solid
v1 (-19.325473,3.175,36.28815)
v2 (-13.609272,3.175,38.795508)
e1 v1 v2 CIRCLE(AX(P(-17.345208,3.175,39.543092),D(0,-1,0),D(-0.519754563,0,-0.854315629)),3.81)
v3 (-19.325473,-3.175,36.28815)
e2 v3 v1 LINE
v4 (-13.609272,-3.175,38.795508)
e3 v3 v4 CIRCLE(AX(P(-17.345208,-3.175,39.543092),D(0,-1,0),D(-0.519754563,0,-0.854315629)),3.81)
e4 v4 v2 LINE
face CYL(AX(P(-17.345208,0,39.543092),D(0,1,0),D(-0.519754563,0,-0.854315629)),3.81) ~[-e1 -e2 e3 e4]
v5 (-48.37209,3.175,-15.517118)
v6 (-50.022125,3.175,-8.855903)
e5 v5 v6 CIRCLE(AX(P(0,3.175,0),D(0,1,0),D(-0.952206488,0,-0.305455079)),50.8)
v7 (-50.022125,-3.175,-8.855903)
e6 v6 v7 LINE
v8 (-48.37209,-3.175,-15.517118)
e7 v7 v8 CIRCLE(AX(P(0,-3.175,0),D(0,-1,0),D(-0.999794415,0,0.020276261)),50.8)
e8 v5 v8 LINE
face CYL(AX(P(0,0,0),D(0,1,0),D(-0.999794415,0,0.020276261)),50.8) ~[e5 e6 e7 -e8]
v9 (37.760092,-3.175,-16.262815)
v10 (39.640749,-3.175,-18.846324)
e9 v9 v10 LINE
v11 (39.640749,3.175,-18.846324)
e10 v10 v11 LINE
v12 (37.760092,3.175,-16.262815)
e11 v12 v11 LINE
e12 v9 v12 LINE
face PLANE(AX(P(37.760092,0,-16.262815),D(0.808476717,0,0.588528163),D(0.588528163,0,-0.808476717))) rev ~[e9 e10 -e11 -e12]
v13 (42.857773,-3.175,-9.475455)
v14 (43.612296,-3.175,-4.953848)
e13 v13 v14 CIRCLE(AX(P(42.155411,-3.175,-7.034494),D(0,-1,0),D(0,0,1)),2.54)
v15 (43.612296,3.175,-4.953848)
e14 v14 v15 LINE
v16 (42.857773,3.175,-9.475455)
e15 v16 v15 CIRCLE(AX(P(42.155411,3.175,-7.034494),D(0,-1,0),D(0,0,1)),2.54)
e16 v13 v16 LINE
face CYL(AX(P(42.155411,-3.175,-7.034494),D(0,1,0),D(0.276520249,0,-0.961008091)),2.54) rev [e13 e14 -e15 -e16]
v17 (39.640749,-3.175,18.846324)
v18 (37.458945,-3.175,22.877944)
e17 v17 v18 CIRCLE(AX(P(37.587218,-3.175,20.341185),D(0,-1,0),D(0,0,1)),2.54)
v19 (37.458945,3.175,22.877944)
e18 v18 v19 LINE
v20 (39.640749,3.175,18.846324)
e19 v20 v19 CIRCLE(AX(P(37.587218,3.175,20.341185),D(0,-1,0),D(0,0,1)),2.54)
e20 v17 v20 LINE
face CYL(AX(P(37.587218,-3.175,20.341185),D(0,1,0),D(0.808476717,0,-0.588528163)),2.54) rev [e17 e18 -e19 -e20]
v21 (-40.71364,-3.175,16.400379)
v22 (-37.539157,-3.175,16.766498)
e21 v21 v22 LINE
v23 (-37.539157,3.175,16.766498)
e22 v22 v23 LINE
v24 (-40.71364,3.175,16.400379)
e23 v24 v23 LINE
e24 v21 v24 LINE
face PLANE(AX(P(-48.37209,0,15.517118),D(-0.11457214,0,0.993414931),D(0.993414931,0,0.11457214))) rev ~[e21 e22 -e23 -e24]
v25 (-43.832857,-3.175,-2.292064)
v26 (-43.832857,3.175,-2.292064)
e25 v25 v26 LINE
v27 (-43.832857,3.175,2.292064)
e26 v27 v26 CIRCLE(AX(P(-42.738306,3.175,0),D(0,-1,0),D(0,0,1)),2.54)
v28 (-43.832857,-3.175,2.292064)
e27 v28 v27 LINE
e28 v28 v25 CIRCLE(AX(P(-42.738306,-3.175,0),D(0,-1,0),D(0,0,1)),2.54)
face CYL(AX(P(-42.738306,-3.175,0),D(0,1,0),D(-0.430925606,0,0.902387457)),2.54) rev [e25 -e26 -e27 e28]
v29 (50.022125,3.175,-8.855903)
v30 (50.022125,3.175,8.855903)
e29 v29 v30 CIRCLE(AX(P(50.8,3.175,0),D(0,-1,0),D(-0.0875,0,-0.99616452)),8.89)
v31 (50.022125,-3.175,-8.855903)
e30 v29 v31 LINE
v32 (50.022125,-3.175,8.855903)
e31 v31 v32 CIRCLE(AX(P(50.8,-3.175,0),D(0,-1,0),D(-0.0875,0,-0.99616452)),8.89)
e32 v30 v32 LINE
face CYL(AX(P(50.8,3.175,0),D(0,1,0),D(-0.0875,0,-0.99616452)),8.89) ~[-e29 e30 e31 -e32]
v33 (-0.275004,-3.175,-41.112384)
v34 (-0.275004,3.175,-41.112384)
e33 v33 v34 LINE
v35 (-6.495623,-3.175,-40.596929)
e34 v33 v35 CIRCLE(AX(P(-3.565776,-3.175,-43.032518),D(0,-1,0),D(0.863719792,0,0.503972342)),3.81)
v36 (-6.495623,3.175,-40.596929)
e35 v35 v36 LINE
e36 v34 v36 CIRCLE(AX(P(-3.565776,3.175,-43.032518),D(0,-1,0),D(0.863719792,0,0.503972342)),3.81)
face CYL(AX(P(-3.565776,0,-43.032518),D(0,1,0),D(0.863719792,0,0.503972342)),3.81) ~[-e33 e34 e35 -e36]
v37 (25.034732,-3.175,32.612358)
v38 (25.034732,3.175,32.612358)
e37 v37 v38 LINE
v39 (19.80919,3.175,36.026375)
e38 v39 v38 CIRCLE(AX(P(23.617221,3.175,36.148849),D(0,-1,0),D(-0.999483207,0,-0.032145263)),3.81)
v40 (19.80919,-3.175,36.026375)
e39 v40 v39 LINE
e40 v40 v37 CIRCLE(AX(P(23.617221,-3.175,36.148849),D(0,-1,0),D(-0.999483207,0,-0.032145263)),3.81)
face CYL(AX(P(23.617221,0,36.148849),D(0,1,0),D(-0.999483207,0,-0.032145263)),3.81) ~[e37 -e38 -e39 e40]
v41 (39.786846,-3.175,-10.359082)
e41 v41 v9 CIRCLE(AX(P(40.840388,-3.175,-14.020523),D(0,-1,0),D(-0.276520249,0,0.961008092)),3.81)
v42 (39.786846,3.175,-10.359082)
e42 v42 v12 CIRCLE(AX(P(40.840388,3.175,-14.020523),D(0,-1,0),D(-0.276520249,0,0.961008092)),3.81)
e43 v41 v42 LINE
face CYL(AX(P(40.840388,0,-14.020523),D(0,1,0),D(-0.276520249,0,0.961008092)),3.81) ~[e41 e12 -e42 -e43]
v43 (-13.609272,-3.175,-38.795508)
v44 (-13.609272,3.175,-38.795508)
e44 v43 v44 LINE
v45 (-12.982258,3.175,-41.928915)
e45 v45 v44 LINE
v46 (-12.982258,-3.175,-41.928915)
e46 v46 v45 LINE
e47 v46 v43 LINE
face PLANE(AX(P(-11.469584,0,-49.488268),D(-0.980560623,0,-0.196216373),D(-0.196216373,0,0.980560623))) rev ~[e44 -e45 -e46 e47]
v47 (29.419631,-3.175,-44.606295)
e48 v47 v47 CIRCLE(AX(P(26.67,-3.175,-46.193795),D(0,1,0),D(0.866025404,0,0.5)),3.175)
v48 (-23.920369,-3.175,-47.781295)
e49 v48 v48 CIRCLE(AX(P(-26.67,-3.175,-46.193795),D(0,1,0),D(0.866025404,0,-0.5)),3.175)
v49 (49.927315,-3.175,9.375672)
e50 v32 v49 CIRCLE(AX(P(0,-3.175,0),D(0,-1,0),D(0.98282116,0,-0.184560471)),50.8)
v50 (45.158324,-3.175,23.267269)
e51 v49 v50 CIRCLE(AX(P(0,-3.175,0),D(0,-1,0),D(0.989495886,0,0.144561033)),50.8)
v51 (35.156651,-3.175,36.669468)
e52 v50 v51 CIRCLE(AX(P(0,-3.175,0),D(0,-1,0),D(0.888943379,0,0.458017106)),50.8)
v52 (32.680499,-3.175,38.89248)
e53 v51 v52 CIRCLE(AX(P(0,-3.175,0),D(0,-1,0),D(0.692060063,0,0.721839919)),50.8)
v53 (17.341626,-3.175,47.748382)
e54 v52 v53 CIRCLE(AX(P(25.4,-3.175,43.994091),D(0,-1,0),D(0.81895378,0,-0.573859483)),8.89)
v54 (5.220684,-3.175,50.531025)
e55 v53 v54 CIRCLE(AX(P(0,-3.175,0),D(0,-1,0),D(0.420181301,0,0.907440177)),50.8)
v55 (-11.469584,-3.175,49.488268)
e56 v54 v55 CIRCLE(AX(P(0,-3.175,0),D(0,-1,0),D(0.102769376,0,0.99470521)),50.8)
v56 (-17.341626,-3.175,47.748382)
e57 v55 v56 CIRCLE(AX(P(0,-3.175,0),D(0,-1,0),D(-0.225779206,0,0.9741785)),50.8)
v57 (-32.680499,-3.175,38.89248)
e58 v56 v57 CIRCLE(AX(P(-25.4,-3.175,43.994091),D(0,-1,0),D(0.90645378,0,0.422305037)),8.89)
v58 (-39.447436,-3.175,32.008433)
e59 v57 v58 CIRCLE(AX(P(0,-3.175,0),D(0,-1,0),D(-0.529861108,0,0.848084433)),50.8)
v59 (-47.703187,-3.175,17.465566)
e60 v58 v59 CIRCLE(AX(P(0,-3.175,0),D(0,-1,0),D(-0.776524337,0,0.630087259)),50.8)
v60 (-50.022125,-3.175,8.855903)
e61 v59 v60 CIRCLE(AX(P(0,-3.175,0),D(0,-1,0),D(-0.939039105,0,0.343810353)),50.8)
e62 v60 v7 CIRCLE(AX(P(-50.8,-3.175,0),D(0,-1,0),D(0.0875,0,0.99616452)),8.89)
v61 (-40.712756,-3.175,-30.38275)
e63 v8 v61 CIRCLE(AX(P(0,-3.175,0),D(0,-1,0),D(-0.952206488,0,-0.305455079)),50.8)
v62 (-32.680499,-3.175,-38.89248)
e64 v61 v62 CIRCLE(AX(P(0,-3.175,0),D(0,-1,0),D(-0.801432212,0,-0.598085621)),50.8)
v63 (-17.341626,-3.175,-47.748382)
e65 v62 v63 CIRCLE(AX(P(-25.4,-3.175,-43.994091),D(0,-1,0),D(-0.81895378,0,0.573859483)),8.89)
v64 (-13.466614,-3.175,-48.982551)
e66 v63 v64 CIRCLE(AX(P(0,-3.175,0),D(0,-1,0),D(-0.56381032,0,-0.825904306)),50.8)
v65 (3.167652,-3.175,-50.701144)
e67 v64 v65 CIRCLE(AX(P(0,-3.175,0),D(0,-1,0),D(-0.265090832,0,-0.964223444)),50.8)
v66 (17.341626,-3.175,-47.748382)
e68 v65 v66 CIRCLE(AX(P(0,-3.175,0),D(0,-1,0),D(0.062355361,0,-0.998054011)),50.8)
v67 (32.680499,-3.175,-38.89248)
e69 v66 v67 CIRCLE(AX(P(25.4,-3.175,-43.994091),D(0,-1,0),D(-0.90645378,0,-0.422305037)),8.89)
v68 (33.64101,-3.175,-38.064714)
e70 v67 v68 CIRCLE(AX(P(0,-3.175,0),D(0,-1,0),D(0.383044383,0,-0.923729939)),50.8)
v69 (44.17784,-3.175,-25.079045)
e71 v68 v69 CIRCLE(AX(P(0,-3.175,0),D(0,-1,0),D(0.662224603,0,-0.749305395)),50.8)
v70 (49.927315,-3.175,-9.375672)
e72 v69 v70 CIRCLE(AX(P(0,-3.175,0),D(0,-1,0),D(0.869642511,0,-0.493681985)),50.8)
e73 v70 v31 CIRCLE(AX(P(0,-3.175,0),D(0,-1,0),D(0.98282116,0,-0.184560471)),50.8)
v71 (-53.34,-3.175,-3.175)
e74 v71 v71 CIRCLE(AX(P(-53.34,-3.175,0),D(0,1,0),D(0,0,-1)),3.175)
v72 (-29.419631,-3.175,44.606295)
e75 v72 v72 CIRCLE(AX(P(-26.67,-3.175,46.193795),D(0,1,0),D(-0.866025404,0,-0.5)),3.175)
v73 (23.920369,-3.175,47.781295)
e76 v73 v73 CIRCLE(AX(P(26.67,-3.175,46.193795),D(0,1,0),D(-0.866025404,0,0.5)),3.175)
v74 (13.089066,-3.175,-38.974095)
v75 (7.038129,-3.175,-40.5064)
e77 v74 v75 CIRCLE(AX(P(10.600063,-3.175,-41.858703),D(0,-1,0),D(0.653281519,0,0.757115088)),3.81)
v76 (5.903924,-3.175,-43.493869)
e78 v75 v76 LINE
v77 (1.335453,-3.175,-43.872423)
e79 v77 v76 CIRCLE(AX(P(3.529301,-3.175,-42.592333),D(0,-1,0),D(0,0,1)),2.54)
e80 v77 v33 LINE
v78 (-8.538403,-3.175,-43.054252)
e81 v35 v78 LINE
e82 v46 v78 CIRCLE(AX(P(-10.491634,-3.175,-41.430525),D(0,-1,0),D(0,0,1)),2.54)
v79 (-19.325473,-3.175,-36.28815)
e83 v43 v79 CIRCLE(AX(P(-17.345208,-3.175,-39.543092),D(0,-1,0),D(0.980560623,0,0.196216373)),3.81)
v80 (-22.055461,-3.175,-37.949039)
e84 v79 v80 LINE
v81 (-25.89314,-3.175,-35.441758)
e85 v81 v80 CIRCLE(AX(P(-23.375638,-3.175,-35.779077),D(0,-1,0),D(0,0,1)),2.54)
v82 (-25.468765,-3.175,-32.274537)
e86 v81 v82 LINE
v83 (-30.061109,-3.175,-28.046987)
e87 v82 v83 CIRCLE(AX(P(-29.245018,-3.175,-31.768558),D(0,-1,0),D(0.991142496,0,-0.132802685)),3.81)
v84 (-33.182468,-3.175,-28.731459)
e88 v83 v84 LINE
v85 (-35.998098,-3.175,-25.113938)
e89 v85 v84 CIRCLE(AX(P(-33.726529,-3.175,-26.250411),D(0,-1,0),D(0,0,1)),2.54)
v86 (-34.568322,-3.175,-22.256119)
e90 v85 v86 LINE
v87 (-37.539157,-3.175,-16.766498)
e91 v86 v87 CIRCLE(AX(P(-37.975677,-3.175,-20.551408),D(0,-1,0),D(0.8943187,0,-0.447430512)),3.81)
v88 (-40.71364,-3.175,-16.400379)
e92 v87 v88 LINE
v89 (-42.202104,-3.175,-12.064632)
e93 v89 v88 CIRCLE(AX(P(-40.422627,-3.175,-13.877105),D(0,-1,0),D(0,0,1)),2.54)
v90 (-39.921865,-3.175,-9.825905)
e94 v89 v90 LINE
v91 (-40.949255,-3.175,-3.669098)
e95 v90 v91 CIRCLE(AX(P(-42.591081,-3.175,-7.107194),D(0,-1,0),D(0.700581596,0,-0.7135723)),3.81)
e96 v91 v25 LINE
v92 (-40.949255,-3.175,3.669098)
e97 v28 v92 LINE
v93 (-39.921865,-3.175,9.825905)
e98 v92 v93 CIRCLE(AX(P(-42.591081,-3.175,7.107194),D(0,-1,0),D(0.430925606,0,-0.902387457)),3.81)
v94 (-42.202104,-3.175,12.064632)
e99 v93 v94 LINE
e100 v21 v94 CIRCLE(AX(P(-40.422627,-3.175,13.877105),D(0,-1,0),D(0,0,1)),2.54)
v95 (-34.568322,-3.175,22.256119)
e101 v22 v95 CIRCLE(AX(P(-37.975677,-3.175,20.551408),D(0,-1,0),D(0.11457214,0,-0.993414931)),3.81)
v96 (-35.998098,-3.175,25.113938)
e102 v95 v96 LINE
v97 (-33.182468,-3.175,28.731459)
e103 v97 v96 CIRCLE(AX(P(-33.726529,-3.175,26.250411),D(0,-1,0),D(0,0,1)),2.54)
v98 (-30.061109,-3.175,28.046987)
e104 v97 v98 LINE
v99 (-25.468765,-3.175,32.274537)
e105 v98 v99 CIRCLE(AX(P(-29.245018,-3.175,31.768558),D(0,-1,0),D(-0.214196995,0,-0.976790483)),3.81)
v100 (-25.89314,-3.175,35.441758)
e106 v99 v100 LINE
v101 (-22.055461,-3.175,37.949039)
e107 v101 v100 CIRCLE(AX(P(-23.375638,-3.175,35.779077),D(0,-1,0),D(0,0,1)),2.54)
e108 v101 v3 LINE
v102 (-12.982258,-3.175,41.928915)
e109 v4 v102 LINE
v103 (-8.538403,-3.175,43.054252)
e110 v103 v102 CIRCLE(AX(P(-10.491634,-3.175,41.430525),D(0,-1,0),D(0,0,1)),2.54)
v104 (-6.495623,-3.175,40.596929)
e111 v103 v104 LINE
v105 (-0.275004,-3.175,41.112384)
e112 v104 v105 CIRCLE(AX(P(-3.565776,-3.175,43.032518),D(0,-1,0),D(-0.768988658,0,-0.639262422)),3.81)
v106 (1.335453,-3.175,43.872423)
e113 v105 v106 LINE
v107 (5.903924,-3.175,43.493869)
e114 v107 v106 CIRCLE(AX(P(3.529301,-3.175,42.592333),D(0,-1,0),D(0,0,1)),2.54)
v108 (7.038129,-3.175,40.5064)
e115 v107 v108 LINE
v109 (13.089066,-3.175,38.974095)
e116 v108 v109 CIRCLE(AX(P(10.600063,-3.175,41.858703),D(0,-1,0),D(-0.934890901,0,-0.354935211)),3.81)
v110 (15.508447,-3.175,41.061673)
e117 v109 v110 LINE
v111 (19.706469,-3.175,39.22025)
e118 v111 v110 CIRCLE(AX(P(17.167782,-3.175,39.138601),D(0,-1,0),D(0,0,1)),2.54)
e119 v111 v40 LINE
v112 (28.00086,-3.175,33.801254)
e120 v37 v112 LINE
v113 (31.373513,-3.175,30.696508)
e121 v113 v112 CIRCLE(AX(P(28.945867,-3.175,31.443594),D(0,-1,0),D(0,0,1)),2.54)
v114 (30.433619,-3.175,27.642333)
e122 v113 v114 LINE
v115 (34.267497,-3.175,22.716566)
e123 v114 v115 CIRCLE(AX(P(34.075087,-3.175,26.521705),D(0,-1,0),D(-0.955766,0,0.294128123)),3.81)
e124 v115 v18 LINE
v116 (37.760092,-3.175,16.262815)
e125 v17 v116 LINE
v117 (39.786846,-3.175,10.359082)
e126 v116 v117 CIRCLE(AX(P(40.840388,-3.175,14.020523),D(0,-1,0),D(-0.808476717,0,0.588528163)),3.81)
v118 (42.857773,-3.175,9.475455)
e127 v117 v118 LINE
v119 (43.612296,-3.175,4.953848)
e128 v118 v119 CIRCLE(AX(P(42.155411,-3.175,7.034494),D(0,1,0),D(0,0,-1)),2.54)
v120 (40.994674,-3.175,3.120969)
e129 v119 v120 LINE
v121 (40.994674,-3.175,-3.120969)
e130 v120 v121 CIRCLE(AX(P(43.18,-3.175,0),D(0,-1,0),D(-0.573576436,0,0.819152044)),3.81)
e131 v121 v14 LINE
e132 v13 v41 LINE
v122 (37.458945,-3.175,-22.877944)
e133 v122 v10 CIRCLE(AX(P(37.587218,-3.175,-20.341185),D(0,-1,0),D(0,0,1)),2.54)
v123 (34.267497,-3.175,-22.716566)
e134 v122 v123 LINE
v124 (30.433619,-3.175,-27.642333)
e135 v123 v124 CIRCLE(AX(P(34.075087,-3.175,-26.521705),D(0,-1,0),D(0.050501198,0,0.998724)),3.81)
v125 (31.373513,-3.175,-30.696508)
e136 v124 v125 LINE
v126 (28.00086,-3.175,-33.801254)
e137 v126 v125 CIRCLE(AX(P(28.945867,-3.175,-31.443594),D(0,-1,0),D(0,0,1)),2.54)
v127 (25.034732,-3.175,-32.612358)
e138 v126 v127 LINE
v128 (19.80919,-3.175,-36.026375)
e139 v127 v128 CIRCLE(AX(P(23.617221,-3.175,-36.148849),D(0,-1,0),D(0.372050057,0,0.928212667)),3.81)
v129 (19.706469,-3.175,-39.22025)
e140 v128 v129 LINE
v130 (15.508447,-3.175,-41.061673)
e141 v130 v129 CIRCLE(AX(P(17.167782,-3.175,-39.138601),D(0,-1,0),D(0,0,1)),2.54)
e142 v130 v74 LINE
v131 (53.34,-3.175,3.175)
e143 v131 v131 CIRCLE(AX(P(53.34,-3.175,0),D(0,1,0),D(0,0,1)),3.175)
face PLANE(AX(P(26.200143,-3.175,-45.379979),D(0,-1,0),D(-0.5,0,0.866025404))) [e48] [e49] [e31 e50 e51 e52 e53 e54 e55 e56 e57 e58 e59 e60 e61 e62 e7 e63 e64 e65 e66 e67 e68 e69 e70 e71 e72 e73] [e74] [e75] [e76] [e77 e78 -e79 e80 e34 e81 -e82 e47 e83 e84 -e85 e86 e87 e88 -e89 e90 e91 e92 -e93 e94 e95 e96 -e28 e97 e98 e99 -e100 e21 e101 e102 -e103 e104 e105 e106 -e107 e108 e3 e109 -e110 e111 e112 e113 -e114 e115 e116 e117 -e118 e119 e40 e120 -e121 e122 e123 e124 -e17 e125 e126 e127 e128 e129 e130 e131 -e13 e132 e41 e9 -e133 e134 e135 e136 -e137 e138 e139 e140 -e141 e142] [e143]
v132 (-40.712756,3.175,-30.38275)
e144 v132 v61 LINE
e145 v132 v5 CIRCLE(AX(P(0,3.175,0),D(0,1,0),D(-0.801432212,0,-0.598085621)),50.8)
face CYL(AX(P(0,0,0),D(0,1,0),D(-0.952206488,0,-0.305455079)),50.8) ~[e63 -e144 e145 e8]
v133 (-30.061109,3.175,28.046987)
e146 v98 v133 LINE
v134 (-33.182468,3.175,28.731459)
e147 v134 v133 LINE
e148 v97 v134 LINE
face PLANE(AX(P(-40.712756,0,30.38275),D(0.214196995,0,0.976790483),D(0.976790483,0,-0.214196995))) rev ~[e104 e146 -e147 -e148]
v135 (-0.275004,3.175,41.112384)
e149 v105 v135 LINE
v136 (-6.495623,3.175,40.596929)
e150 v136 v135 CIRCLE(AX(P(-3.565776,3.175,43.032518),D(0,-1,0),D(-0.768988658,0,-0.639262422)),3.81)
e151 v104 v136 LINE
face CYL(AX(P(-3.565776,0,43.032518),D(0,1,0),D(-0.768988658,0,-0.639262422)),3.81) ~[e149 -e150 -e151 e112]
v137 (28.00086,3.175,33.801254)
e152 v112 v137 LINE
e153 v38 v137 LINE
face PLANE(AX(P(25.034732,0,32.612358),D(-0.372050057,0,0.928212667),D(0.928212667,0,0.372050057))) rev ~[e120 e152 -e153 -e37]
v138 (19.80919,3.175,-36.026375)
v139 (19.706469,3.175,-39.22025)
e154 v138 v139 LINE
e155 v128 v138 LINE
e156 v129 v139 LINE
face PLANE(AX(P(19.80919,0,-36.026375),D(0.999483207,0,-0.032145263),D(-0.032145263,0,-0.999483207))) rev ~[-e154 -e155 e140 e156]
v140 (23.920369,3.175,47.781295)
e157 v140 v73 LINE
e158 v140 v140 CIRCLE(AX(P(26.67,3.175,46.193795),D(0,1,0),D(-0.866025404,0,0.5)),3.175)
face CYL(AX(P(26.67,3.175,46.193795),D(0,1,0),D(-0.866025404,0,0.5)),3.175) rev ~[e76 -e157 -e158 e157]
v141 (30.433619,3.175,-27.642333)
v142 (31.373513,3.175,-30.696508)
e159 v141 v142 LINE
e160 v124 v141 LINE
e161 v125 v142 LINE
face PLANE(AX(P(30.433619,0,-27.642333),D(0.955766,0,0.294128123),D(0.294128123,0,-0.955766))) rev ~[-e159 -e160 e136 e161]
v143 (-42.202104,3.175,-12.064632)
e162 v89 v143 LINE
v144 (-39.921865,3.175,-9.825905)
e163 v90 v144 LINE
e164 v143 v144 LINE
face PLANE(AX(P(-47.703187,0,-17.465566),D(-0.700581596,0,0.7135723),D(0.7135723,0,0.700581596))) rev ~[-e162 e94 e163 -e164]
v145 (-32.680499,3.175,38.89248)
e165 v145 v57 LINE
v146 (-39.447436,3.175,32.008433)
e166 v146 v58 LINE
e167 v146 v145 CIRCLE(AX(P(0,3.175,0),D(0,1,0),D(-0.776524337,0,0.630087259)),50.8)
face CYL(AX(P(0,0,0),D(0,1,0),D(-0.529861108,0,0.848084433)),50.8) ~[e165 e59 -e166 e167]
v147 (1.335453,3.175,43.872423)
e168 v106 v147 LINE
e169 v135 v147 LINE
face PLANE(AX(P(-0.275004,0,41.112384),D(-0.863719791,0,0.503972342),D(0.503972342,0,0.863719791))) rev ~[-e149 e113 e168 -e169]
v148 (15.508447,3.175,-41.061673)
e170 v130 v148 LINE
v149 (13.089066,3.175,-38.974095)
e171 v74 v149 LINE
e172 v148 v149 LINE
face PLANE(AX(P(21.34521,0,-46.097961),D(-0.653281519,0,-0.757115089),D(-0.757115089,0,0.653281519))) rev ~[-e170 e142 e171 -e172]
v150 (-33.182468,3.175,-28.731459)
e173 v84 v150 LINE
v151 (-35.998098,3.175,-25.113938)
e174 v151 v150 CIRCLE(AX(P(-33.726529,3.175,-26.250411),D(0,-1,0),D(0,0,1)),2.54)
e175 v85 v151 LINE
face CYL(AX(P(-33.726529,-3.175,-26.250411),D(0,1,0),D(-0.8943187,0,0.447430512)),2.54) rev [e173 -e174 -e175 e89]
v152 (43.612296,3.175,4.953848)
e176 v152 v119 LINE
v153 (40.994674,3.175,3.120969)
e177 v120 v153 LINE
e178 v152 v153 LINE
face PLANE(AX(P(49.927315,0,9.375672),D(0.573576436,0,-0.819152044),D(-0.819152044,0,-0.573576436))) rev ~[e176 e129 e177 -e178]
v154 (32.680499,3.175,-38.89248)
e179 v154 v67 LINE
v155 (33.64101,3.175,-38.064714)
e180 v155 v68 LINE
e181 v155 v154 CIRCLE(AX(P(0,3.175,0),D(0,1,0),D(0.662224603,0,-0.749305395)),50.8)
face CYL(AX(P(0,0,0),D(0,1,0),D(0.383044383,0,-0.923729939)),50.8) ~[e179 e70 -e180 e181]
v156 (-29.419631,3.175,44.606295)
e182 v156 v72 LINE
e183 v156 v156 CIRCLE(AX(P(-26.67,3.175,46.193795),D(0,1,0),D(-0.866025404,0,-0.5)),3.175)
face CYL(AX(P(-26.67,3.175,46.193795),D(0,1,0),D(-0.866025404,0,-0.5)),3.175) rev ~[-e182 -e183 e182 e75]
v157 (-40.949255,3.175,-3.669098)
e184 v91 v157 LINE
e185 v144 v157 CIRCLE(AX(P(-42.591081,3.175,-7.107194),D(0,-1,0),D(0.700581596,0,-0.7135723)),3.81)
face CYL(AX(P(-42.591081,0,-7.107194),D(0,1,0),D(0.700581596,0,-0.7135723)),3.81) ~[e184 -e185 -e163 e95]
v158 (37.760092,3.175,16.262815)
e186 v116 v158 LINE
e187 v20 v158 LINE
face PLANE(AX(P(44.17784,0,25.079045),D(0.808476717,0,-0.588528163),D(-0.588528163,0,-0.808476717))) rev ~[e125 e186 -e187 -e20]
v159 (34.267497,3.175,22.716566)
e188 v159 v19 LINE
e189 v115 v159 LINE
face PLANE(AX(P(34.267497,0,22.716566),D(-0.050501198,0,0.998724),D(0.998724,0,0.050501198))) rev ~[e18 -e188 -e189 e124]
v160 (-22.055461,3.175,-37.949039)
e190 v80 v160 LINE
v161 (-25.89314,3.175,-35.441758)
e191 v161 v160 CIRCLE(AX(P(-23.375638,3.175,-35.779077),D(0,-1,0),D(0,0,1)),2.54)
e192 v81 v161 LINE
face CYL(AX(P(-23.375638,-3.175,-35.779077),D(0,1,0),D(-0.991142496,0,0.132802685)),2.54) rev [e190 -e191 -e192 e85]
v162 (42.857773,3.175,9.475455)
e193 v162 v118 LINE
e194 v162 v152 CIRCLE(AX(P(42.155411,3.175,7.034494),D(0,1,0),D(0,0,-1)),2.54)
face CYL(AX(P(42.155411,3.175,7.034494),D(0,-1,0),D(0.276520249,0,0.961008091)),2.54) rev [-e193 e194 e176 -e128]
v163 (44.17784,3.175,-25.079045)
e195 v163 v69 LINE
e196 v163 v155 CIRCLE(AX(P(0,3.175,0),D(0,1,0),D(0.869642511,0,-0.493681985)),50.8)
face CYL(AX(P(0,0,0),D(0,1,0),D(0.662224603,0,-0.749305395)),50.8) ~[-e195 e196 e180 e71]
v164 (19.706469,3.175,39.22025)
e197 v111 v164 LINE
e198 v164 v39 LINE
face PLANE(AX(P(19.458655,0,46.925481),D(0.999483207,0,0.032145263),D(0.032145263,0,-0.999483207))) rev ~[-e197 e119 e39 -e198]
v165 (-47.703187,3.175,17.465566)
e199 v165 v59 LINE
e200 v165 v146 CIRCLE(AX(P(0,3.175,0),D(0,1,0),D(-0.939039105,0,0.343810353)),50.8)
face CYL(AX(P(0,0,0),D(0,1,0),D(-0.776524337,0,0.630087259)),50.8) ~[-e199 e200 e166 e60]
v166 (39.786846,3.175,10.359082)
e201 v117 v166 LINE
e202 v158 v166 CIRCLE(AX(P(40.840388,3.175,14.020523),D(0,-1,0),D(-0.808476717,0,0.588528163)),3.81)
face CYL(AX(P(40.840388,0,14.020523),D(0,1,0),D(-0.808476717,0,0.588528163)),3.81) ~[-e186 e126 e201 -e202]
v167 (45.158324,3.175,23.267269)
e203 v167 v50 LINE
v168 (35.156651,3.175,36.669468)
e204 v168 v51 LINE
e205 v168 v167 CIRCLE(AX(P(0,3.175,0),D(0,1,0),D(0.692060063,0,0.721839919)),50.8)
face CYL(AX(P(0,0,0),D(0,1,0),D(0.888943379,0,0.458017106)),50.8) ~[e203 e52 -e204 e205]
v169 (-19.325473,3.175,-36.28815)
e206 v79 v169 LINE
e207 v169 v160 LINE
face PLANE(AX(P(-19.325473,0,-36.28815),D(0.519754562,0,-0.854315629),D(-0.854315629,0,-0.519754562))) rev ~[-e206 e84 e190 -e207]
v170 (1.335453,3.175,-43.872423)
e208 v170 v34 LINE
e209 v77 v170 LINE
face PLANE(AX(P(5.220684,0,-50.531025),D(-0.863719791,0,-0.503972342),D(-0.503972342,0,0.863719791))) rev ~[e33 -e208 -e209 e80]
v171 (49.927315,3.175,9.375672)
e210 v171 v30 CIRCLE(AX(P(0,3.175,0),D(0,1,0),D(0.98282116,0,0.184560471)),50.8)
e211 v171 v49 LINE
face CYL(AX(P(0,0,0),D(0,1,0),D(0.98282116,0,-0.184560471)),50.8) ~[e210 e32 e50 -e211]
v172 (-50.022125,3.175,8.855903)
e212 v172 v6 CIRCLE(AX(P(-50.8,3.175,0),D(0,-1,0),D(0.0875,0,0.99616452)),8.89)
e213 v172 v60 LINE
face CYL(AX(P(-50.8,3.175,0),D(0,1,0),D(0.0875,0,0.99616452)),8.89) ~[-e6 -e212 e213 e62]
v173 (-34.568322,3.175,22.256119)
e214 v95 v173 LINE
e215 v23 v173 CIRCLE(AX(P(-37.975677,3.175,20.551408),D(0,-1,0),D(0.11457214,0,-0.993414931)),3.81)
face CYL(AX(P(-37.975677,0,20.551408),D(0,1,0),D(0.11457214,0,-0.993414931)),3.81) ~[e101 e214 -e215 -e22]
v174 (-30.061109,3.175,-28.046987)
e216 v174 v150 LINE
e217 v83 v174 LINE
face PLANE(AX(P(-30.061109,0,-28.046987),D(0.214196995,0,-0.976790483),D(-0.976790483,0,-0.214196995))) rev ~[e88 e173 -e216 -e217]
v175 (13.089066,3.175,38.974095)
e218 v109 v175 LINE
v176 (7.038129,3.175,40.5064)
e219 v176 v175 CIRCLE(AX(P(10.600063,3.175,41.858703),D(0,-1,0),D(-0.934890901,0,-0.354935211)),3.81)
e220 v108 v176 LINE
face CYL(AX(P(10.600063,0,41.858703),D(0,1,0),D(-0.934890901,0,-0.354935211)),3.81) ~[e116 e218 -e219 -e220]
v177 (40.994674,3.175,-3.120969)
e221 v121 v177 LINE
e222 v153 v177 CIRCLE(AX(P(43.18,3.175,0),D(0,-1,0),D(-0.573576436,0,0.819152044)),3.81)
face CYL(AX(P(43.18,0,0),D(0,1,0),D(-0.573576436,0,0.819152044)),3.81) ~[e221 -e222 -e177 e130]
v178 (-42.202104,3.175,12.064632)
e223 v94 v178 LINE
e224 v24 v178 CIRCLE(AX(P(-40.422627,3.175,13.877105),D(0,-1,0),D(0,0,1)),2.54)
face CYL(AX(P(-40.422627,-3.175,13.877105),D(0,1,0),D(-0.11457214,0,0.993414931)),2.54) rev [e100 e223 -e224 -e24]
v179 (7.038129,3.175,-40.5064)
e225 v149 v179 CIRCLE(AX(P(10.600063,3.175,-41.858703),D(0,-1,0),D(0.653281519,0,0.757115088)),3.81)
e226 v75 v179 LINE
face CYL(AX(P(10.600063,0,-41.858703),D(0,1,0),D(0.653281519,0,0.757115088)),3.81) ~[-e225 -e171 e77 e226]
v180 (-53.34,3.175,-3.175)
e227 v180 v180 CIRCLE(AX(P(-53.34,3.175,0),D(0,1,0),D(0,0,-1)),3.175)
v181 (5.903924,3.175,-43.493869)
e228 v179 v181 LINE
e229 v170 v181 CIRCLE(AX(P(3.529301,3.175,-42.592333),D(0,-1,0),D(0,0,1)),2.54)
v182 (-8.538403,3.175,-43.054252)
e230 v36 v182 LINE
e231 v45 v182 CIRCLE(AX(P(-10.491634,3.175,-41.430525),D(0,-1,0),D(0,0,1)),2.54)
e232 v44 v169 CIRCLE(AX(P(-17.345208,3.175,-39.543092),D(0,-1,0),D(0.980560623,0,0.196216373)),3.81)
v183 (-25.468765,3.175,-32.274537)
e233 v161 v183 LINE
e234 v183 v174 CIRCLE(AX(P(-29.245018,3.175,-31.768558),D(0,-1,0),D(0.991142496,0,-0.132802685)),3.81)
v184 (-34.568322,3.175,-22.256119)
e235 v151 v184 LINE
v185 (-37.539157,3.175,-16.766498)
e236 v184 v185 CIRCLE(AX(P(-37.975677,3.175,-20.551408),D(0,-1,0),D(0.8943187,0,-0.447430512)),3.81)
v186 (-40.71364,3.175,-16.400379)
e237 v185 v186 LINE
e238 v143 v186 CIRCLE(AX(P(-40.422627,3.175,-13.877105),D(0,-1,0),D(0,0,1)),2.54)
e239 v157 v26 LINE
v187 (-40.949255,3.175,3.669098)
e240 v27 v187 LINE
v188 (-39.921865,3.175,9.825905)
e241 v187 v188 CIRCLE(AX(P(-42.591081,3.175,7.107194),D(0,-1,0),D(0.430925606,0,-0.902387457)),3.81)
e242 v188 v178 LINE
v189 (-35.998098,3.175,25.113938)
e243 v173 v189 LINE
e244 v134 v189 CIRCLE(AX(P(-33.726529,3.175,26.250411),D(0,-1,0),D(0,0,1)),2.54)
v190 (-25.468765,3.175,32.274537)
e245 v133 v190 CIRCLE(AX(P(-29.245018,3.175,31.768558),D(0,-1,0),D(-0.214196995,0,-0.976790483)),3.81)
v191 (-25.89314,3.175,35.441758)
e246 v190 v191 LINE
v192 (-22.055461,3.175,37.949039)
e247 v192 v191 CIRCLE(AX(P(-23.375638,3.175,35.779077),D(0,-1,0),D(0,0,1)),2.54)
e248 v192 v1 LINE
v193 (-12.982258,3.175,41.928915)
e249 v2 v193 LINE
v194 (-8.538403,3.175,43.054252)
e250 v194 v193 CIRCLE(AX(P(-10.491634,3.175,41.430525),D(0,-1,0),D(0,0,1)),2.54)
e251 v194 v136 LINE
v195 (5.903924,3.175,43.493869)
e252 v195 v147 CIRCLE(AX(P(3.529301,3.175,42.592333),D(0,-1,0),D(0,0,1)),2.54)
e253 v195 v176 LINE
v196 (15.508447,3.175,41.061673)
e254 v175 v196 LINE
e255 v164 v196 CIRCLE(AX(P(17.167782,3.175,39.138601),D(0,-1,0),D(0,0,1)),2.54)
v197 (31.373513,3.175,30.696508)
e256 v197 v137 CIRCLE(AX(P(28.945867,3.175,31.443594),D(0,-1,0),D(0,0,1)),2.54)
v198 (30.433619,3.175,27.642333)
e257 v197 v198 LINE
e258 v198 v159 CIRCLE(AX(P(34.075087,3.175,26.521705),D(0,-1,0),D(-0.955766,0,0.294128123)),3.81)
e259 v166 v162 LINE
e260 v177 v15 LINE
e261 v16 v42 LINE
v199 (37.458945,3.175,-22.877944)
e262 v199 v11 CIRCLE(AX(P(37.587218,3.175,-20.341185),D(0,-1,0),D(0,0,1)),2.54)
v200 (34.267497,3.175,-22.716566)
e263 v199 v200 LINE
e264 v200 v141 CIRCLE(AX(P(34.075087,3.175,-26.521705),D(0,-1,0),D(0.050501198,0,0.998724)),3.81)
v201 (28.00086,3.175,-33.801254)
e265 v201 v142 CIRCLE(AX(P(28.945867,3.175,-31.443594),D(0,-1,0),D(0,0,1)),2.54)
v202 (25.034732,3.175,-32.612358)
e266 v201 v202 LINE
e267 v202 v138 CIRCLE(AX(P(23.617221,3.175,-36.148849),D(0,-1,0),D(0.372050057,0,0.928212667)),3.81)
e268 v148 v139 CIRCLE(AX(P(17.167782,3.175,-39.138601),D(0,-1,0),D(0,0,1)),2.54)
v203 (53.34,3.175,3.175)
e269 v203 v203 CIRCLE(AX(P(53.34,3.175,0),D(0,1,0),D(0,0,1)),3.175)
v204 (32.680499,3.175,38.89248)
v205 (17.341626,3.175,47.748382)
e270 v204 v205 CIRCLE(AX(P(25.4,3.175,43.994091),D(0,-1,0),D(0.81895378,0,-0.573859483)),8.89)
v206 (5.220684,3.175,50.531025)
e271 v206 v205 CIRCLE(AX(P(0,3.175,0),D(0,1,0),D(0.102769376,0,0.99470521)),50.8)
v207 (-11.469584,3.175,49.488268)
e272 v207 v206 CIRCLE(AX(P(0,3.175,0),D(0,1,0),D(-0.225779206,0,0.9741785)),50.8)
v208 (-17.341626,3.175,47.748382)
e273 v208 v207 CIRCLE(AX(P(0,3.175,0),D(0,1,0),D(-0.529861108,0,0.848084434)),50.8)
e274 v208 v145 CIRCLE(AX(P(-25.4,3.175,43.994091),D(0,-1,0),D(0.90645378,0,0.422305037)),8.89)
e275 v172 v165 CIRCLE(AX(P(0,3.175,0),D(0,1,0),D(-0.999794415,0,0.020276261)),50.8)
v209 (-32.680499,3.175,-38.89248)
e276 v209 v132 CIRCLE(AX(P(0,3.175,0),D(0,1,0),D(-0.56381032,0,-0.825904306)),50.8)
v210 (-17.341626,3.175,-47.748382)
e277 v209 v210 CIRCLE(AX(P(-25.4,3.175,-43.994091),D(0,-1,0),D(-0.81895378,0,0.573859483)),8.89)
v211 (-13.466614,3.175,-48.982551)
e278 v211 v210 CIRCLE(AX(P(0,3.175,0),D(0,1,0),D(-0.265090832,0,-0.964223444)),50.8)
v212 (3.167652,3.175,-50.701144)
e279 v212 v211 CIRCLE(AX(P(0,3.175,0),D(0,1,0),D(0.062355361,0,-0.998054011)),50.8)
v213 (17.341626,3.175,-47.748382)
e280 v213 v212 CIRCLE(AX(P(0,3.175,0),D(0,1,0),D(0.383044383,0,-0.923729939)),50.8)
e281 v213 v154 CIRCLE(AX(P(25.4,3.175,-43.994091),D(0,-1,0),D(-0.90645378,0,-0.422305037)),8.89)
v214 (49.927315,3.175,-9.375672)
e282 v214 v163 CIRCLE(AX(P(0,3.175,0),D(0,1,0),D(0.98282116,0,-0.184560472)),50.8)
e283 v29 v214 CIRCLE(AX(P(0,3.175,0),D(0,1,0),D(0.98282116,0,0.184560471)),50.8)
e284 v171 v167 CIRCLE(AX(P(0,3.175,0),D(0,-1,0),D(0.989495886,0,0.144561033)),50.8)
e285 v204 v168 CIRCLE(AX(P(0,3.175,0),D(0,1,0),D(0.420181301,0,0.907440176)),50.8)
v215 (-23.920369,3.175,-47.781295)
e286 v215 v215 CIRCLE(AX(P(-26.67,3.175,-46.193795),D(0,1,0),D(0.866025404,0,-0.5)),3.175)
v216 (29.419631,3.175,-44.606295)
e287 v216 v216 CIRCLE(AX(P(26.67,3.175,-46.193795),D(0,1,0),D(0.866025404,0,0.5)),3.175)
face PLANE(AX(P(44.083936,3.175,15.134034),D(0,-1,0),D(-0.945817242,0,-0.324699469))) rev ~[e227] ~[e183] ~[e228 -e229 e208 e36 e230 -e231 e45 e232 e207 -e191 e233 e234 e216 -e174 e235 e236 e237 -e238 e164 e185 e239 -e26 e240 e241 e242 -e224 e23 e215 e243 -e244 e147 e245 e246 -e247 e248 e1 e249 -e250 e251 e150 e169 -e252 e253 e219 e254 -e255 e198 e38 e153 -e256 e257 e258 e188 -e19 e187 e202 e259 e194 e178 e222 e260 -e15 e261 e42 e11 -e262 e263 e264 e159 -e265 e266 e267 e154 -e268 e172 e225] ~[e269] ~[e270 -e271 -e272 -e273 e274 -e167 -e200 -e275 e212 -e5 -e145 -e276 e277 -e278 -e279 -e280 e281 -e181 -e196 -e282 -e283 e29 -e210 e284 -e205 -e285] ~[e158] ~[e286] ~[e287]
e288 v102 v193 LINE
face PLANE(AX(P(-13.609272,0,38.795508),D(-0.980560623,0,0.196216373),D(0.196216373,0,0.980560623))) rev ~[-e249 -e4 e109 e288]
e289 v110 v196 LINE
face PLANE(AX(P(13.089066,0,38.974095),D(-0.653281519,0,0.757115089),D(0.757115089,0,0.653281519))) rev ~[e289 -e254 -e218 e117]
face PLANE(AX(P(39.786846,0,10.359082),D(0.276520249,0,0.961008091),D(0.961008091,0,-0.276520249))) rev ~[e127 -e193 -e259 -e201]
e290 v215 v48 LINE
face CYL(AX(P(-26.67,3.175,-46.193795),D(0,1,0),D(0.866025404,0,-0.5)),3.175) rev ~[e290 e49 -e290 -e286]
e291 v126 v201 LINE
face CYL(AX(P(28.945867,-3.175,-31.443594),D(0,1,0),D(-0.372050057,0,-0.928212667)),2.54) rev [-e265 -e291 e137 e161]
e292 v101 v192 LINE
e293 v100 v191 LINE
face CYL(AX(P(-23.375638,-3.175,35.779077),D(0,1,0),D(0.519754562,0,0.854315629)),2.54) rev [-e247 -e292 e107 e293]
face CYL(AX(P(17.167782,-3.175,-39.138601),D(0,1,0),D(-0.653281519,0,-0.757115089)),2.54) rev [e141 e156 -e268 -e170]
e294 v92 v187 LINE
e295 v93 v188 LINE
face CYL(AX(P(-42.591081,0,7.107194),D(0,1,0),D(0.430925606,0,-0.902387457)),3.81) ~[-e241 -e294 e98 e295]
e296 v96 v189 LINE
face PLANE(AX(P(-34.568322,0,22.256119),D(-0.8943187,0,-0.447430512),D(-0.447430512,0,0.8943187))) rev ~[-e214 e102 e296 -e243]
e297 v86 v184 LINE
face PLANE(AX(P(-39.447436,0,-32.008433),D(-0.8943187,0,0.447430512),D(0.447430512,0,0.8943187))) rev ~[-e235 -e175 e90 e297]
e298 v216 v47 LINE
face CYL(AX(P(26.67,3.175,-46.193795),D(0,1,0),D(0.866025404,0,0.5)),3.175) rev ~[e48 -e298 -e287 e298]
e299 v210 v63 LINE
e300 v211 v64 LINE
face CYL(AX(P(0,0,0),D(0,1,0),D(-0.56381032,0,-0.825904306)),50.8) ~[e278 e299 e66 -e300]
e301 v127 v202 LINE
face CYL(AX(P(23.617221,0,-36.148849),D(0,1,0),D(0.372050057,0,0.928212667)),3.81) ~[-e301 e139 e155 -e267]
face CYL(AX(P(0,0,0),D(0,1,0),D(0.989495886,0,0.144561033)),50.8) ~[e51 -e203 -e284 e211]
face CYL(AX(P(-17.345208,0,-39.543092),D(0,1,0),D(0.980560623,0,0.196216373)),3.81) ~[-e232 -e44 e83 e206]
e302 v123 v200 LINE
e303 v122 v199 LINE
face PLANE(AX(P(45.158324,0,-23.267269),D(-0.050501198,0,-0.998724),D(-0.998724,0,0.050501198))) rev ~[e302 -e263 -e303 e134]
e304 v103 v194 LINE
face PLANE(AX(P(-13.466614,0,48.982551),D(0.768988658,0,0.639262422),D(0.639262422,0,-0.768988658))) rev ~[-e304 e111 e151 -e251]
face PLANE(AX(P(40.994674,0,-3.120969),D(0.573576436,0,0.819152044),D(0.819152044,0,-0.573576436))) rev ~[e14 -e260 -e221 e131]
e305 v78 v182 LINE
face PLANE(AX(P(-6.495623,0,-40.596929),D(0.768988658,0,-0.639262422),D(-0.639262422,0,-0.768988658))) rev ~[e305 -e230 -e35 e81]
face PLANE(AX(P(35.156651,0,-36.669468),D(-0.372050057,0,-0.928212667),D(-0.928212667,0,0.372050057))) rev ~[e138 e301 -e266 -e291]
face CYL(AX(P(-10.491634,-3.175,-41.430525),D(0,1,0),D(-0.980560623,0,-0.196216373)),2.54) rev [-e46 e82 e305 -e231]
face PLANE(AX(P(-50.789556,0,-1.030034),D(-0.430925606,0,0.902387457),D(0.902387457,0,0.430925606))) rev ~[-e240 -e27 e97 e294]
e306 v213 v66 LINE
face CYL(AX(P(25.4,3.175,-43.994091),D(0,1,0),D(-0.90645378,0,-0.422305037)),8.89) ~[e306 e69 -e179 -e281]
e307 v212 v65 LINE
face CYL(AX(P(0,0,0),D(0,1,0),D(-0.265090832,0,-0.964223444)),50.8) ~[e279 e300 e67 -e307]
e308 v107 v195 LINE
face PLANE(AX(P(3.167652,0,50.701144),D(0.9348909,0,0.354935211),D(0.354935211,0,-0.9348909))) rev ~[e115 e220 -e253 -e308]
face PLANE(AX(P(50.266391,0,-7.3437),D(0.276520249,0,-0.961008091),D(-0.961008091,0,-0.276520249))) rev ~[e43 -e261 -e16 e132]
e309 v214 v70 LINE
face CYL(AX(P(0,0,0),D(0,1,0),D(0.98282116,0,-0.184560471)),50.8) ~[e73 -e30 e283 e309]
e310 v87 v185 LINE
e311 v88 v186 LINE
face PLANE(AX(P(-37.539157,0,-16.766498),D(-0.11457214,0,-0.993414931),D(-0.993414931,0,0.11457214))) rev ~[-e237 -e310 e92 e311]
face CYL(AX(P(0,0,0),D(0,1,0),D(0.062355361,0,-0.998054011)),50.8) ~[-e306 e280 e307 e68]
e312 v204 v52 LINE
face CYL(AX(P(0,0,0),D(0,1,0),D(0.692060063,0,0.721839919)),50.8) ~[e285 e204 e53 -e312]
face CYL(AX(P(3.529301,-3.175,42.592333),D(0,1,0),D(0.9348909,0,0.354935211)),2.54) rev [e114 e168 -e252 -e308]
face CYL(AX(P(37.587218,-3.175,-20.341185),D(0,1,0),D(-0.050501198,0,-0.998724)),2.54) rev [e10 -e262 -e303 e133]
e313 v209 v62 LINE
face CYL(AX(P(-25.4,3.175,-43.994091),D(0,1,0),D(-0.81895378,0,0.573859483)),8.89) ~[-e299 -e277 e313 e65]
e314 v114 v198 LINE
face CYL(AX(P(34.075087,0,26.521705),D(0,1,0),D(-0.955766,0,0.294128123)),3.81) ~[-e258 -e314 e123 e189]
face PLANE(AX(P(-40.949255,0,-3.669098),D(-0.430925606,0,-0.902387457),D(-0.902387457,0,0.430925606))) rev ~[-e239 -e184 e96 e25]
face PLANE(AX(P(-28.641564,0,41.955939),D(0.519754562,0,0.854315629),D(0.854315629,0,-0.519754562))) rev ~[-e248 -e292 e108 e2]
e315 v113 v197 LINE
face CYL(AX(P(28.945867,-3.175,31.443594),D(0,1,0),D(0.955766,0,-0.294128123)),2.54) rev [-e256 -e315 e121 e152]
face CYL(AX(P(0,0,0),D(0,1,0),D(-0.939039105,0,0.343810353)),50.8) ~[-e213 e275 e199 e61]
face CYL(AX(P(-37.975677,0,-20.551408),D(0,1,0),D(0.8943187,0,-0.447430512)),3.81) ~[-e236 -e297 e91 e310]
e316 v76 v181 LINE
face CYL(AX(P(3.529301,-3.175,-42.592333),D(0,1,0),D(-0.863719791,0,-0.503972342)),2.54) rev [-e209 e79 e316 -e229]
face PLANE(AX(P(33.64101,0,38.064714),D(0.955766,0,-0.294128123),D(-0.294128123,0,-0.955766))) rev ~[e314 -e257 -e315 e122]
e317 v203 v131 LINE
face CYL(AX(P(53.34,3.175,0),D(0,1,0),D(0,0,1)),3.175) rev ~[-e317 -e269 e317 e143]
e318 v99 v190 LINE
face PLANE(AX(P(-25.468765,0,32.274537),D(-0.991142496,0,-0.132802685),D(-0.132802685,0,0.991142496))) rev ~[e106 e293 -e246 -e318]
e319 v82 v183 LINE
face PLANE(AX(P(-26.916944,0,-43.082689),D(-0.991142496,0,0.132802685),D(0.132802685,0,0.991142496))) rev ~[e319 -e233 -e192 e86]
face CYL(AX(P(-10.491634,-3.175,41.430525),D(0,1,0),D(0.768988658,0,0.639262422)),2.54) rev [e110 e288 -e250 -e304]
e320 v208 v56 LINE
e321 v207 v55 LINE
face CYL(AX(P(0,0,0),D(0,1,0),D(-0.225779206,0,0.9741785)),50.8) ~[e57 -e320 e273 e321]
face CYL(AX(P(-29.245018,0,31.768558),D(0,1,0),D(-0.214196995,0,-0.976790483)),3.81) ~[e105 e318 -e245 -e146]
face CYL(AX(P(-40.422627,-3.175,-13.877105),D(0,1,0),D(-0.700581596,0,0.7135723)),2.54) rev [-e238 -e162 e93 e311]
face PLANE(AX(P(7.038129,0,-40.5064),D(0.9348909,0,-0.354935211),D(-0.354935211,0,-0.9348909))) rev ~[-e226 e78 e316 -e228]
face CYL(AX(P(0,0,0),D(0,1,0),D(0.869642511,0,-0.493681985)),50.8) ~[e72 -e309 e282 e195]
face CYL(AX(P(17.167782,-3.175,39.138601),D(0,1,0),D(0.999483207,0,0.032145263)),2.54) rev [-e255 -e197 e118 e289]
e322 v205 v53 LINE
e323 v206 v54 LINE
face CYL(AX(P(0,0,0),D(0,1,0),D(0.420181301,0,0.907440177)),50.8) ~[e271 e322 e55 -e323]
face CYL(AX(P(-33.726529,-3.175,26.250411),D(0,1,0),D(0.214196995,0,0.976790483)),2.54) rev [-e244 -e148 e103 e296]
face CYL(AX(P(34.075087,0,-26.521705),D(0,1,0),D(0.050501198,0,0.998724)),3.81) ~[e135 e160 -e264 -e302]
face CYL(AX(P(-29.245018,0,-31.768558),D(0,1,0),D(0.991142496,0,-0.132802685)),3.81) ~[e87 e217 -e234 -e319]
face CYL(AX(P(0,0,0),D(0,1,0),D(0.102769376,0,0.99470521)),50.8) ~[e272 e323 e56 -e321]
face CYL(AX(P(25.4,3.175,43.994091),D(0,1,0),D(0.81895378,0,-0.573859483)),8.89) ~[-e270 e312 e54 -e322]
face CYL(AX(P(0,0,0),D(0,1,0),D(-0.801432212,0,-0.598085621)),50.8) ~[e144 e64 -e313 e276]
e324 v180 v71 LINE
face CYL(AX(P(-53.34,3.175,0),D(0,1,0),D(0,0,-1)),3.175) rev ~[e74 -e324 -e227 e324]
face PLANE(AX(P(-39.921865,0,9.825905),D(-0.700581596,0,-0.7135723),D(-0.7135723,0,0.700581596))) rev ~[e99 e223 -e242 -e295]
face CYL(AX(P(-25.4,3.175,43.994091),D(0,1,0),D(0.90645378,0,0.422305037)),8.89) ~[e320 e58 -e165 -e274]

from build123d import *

# Parameters (mm, degrees)
BOSS_EXTRUDE1_DEPTH = 3.175
CIRPATTERN4_COUNT   = 19
FILLET1_R           = 2.54
BOSS_EXTRUDE2_DEPTH = 6.35
SKETCH7_R           = 3.175
CUT_EXTRUDE3_DEPTH  = 6.35
CIRPATTERN5_COUNT   = 6


with BuildPart() as part:
    # Sketch1 → Boss-Extrude1 (new, symmetric)
    with BuildSketch(Plane(origin=(0, 0, 0), x_dir=(1, 0, 0), z_dir=(0, 1, 0))):
        with BuildLine():
            Line((40.994673778, 3.120969289), (49.927314923, 9.375671955))
            ThreePointArc((49.927314923, 9.375671955), (50.8, 0), (49.927314923, -9.375671955))
            Line((49.927314923, -9.375671955), (40.994673778, -3.120969289))
            ThreePointArc((40.994673778, -3.120969289), (39.37, 0), (40.994673778, 3.120969289))
        make_face()
    boss_extrude1 = extrude(amount=BOSS_EXTRUDE1_DEPTH, both=True)

    # CirPattern4: Boss-Extrude1 ×19 about axis
    cirpattern4_axis = Axis((0, 0, 0), (0, 1, 0))
    for i in range(1, CIRPATTERN4_COUNT):
        add(boss_extrude1.rotate(cirpattern4_axis, i * 360 / CIRPATTERN4_COUNT))

    # Fillet1
    fillet1_edges = [part.edges().sort_by_distance(p)[0] for p in [
        (47.969309878, 0, 8.004662063),
        (47.969309878, 0, -8.004662063),
        (42.771090832, 0, 23.146556848),
        (32.937960433, 0, 35.780163044),
        (19.535490936, 0, 44.536433387),
        (4.016047871, 0, 48.466490119),
        (-11.938596296, 0, 47.144450611),
        (-26.599508308, 0, 40.713578358),
        (-38.37795086, 0, 29.870758154),
        (-45.997546942, 0, 15.790977811),
        (-48.632595087, 0, 0),
        (-45.997546942, 0, -15.790977811),
        (-38.37795086, 0, -29.870758154),
        (-26.599508308, 0, -40.713578358),
        (-11.938596296, 0, -47.144450611),
        (4.016047871, 0, -48.466490119),
        (19.535490936, 0, -44.536433387),
        (32.937960433, 0, -35.780163044),
        (42.771090832, 0, -23.146556848),
    ]]
    fillet(fillet1_edges, radius=FILLET1_R)

    # Sketch5 → Boss-Extrude2 (add)
    with BuildSketch(Plane(origin=(0, 3.175, 0), x_dir=(1, 0, 0), z_dir=(0, 1, 0))):
        with BuildLine():
            Line((50.022125, -8.855902579), (45.72, 0))
            Line((45.72, 0), (50.022125, 8.855902579))
            ThreePointArc((50.022125, 8.855902579), (59.69, 0), (50.022125, -8.855902579))
        make_face()
    boss_extrude2 = extrude(amount=-BOSS_EXTRUDE2_DEPTH)

    # Sketch7 → Cut-Extrude3 (cut)
    with BuildSketch(Plane(origin=(0, 3.175, 0), x_dir=(1, 0, 0), z_dir=(0, 1, 0))):
        with Locations(Location((53.34, 0, 0), (0, 0, 270))):
            Circle(SKETCH7_R)
    cut_extrude3 = extrude(amount=-CUT_EXTRUDE3_DEPTH, mode=Mode.SUBTRACT)

    # CirPattern5: Boss-Extrude2, Cut-Extrude3 ×6 about axis
    cirpattern5_axis = Axis((0, 0, 0), (0, 1, 0))
    add([boss_extrude2.rotate(cirpattern5_axis, i * 360 / CIRPATTERN5_COUNT) for i in range(1, CIRPATTERN5_COUNT)])
    add([cut_extrude3.rotate(cirpattern5_axis, i * 360 / CIRPATTERN5_COUNT) for i in range(1, CIRPATTERN5_COUNT)], mode=Mode.SUBTRACT)


solid = part.part
